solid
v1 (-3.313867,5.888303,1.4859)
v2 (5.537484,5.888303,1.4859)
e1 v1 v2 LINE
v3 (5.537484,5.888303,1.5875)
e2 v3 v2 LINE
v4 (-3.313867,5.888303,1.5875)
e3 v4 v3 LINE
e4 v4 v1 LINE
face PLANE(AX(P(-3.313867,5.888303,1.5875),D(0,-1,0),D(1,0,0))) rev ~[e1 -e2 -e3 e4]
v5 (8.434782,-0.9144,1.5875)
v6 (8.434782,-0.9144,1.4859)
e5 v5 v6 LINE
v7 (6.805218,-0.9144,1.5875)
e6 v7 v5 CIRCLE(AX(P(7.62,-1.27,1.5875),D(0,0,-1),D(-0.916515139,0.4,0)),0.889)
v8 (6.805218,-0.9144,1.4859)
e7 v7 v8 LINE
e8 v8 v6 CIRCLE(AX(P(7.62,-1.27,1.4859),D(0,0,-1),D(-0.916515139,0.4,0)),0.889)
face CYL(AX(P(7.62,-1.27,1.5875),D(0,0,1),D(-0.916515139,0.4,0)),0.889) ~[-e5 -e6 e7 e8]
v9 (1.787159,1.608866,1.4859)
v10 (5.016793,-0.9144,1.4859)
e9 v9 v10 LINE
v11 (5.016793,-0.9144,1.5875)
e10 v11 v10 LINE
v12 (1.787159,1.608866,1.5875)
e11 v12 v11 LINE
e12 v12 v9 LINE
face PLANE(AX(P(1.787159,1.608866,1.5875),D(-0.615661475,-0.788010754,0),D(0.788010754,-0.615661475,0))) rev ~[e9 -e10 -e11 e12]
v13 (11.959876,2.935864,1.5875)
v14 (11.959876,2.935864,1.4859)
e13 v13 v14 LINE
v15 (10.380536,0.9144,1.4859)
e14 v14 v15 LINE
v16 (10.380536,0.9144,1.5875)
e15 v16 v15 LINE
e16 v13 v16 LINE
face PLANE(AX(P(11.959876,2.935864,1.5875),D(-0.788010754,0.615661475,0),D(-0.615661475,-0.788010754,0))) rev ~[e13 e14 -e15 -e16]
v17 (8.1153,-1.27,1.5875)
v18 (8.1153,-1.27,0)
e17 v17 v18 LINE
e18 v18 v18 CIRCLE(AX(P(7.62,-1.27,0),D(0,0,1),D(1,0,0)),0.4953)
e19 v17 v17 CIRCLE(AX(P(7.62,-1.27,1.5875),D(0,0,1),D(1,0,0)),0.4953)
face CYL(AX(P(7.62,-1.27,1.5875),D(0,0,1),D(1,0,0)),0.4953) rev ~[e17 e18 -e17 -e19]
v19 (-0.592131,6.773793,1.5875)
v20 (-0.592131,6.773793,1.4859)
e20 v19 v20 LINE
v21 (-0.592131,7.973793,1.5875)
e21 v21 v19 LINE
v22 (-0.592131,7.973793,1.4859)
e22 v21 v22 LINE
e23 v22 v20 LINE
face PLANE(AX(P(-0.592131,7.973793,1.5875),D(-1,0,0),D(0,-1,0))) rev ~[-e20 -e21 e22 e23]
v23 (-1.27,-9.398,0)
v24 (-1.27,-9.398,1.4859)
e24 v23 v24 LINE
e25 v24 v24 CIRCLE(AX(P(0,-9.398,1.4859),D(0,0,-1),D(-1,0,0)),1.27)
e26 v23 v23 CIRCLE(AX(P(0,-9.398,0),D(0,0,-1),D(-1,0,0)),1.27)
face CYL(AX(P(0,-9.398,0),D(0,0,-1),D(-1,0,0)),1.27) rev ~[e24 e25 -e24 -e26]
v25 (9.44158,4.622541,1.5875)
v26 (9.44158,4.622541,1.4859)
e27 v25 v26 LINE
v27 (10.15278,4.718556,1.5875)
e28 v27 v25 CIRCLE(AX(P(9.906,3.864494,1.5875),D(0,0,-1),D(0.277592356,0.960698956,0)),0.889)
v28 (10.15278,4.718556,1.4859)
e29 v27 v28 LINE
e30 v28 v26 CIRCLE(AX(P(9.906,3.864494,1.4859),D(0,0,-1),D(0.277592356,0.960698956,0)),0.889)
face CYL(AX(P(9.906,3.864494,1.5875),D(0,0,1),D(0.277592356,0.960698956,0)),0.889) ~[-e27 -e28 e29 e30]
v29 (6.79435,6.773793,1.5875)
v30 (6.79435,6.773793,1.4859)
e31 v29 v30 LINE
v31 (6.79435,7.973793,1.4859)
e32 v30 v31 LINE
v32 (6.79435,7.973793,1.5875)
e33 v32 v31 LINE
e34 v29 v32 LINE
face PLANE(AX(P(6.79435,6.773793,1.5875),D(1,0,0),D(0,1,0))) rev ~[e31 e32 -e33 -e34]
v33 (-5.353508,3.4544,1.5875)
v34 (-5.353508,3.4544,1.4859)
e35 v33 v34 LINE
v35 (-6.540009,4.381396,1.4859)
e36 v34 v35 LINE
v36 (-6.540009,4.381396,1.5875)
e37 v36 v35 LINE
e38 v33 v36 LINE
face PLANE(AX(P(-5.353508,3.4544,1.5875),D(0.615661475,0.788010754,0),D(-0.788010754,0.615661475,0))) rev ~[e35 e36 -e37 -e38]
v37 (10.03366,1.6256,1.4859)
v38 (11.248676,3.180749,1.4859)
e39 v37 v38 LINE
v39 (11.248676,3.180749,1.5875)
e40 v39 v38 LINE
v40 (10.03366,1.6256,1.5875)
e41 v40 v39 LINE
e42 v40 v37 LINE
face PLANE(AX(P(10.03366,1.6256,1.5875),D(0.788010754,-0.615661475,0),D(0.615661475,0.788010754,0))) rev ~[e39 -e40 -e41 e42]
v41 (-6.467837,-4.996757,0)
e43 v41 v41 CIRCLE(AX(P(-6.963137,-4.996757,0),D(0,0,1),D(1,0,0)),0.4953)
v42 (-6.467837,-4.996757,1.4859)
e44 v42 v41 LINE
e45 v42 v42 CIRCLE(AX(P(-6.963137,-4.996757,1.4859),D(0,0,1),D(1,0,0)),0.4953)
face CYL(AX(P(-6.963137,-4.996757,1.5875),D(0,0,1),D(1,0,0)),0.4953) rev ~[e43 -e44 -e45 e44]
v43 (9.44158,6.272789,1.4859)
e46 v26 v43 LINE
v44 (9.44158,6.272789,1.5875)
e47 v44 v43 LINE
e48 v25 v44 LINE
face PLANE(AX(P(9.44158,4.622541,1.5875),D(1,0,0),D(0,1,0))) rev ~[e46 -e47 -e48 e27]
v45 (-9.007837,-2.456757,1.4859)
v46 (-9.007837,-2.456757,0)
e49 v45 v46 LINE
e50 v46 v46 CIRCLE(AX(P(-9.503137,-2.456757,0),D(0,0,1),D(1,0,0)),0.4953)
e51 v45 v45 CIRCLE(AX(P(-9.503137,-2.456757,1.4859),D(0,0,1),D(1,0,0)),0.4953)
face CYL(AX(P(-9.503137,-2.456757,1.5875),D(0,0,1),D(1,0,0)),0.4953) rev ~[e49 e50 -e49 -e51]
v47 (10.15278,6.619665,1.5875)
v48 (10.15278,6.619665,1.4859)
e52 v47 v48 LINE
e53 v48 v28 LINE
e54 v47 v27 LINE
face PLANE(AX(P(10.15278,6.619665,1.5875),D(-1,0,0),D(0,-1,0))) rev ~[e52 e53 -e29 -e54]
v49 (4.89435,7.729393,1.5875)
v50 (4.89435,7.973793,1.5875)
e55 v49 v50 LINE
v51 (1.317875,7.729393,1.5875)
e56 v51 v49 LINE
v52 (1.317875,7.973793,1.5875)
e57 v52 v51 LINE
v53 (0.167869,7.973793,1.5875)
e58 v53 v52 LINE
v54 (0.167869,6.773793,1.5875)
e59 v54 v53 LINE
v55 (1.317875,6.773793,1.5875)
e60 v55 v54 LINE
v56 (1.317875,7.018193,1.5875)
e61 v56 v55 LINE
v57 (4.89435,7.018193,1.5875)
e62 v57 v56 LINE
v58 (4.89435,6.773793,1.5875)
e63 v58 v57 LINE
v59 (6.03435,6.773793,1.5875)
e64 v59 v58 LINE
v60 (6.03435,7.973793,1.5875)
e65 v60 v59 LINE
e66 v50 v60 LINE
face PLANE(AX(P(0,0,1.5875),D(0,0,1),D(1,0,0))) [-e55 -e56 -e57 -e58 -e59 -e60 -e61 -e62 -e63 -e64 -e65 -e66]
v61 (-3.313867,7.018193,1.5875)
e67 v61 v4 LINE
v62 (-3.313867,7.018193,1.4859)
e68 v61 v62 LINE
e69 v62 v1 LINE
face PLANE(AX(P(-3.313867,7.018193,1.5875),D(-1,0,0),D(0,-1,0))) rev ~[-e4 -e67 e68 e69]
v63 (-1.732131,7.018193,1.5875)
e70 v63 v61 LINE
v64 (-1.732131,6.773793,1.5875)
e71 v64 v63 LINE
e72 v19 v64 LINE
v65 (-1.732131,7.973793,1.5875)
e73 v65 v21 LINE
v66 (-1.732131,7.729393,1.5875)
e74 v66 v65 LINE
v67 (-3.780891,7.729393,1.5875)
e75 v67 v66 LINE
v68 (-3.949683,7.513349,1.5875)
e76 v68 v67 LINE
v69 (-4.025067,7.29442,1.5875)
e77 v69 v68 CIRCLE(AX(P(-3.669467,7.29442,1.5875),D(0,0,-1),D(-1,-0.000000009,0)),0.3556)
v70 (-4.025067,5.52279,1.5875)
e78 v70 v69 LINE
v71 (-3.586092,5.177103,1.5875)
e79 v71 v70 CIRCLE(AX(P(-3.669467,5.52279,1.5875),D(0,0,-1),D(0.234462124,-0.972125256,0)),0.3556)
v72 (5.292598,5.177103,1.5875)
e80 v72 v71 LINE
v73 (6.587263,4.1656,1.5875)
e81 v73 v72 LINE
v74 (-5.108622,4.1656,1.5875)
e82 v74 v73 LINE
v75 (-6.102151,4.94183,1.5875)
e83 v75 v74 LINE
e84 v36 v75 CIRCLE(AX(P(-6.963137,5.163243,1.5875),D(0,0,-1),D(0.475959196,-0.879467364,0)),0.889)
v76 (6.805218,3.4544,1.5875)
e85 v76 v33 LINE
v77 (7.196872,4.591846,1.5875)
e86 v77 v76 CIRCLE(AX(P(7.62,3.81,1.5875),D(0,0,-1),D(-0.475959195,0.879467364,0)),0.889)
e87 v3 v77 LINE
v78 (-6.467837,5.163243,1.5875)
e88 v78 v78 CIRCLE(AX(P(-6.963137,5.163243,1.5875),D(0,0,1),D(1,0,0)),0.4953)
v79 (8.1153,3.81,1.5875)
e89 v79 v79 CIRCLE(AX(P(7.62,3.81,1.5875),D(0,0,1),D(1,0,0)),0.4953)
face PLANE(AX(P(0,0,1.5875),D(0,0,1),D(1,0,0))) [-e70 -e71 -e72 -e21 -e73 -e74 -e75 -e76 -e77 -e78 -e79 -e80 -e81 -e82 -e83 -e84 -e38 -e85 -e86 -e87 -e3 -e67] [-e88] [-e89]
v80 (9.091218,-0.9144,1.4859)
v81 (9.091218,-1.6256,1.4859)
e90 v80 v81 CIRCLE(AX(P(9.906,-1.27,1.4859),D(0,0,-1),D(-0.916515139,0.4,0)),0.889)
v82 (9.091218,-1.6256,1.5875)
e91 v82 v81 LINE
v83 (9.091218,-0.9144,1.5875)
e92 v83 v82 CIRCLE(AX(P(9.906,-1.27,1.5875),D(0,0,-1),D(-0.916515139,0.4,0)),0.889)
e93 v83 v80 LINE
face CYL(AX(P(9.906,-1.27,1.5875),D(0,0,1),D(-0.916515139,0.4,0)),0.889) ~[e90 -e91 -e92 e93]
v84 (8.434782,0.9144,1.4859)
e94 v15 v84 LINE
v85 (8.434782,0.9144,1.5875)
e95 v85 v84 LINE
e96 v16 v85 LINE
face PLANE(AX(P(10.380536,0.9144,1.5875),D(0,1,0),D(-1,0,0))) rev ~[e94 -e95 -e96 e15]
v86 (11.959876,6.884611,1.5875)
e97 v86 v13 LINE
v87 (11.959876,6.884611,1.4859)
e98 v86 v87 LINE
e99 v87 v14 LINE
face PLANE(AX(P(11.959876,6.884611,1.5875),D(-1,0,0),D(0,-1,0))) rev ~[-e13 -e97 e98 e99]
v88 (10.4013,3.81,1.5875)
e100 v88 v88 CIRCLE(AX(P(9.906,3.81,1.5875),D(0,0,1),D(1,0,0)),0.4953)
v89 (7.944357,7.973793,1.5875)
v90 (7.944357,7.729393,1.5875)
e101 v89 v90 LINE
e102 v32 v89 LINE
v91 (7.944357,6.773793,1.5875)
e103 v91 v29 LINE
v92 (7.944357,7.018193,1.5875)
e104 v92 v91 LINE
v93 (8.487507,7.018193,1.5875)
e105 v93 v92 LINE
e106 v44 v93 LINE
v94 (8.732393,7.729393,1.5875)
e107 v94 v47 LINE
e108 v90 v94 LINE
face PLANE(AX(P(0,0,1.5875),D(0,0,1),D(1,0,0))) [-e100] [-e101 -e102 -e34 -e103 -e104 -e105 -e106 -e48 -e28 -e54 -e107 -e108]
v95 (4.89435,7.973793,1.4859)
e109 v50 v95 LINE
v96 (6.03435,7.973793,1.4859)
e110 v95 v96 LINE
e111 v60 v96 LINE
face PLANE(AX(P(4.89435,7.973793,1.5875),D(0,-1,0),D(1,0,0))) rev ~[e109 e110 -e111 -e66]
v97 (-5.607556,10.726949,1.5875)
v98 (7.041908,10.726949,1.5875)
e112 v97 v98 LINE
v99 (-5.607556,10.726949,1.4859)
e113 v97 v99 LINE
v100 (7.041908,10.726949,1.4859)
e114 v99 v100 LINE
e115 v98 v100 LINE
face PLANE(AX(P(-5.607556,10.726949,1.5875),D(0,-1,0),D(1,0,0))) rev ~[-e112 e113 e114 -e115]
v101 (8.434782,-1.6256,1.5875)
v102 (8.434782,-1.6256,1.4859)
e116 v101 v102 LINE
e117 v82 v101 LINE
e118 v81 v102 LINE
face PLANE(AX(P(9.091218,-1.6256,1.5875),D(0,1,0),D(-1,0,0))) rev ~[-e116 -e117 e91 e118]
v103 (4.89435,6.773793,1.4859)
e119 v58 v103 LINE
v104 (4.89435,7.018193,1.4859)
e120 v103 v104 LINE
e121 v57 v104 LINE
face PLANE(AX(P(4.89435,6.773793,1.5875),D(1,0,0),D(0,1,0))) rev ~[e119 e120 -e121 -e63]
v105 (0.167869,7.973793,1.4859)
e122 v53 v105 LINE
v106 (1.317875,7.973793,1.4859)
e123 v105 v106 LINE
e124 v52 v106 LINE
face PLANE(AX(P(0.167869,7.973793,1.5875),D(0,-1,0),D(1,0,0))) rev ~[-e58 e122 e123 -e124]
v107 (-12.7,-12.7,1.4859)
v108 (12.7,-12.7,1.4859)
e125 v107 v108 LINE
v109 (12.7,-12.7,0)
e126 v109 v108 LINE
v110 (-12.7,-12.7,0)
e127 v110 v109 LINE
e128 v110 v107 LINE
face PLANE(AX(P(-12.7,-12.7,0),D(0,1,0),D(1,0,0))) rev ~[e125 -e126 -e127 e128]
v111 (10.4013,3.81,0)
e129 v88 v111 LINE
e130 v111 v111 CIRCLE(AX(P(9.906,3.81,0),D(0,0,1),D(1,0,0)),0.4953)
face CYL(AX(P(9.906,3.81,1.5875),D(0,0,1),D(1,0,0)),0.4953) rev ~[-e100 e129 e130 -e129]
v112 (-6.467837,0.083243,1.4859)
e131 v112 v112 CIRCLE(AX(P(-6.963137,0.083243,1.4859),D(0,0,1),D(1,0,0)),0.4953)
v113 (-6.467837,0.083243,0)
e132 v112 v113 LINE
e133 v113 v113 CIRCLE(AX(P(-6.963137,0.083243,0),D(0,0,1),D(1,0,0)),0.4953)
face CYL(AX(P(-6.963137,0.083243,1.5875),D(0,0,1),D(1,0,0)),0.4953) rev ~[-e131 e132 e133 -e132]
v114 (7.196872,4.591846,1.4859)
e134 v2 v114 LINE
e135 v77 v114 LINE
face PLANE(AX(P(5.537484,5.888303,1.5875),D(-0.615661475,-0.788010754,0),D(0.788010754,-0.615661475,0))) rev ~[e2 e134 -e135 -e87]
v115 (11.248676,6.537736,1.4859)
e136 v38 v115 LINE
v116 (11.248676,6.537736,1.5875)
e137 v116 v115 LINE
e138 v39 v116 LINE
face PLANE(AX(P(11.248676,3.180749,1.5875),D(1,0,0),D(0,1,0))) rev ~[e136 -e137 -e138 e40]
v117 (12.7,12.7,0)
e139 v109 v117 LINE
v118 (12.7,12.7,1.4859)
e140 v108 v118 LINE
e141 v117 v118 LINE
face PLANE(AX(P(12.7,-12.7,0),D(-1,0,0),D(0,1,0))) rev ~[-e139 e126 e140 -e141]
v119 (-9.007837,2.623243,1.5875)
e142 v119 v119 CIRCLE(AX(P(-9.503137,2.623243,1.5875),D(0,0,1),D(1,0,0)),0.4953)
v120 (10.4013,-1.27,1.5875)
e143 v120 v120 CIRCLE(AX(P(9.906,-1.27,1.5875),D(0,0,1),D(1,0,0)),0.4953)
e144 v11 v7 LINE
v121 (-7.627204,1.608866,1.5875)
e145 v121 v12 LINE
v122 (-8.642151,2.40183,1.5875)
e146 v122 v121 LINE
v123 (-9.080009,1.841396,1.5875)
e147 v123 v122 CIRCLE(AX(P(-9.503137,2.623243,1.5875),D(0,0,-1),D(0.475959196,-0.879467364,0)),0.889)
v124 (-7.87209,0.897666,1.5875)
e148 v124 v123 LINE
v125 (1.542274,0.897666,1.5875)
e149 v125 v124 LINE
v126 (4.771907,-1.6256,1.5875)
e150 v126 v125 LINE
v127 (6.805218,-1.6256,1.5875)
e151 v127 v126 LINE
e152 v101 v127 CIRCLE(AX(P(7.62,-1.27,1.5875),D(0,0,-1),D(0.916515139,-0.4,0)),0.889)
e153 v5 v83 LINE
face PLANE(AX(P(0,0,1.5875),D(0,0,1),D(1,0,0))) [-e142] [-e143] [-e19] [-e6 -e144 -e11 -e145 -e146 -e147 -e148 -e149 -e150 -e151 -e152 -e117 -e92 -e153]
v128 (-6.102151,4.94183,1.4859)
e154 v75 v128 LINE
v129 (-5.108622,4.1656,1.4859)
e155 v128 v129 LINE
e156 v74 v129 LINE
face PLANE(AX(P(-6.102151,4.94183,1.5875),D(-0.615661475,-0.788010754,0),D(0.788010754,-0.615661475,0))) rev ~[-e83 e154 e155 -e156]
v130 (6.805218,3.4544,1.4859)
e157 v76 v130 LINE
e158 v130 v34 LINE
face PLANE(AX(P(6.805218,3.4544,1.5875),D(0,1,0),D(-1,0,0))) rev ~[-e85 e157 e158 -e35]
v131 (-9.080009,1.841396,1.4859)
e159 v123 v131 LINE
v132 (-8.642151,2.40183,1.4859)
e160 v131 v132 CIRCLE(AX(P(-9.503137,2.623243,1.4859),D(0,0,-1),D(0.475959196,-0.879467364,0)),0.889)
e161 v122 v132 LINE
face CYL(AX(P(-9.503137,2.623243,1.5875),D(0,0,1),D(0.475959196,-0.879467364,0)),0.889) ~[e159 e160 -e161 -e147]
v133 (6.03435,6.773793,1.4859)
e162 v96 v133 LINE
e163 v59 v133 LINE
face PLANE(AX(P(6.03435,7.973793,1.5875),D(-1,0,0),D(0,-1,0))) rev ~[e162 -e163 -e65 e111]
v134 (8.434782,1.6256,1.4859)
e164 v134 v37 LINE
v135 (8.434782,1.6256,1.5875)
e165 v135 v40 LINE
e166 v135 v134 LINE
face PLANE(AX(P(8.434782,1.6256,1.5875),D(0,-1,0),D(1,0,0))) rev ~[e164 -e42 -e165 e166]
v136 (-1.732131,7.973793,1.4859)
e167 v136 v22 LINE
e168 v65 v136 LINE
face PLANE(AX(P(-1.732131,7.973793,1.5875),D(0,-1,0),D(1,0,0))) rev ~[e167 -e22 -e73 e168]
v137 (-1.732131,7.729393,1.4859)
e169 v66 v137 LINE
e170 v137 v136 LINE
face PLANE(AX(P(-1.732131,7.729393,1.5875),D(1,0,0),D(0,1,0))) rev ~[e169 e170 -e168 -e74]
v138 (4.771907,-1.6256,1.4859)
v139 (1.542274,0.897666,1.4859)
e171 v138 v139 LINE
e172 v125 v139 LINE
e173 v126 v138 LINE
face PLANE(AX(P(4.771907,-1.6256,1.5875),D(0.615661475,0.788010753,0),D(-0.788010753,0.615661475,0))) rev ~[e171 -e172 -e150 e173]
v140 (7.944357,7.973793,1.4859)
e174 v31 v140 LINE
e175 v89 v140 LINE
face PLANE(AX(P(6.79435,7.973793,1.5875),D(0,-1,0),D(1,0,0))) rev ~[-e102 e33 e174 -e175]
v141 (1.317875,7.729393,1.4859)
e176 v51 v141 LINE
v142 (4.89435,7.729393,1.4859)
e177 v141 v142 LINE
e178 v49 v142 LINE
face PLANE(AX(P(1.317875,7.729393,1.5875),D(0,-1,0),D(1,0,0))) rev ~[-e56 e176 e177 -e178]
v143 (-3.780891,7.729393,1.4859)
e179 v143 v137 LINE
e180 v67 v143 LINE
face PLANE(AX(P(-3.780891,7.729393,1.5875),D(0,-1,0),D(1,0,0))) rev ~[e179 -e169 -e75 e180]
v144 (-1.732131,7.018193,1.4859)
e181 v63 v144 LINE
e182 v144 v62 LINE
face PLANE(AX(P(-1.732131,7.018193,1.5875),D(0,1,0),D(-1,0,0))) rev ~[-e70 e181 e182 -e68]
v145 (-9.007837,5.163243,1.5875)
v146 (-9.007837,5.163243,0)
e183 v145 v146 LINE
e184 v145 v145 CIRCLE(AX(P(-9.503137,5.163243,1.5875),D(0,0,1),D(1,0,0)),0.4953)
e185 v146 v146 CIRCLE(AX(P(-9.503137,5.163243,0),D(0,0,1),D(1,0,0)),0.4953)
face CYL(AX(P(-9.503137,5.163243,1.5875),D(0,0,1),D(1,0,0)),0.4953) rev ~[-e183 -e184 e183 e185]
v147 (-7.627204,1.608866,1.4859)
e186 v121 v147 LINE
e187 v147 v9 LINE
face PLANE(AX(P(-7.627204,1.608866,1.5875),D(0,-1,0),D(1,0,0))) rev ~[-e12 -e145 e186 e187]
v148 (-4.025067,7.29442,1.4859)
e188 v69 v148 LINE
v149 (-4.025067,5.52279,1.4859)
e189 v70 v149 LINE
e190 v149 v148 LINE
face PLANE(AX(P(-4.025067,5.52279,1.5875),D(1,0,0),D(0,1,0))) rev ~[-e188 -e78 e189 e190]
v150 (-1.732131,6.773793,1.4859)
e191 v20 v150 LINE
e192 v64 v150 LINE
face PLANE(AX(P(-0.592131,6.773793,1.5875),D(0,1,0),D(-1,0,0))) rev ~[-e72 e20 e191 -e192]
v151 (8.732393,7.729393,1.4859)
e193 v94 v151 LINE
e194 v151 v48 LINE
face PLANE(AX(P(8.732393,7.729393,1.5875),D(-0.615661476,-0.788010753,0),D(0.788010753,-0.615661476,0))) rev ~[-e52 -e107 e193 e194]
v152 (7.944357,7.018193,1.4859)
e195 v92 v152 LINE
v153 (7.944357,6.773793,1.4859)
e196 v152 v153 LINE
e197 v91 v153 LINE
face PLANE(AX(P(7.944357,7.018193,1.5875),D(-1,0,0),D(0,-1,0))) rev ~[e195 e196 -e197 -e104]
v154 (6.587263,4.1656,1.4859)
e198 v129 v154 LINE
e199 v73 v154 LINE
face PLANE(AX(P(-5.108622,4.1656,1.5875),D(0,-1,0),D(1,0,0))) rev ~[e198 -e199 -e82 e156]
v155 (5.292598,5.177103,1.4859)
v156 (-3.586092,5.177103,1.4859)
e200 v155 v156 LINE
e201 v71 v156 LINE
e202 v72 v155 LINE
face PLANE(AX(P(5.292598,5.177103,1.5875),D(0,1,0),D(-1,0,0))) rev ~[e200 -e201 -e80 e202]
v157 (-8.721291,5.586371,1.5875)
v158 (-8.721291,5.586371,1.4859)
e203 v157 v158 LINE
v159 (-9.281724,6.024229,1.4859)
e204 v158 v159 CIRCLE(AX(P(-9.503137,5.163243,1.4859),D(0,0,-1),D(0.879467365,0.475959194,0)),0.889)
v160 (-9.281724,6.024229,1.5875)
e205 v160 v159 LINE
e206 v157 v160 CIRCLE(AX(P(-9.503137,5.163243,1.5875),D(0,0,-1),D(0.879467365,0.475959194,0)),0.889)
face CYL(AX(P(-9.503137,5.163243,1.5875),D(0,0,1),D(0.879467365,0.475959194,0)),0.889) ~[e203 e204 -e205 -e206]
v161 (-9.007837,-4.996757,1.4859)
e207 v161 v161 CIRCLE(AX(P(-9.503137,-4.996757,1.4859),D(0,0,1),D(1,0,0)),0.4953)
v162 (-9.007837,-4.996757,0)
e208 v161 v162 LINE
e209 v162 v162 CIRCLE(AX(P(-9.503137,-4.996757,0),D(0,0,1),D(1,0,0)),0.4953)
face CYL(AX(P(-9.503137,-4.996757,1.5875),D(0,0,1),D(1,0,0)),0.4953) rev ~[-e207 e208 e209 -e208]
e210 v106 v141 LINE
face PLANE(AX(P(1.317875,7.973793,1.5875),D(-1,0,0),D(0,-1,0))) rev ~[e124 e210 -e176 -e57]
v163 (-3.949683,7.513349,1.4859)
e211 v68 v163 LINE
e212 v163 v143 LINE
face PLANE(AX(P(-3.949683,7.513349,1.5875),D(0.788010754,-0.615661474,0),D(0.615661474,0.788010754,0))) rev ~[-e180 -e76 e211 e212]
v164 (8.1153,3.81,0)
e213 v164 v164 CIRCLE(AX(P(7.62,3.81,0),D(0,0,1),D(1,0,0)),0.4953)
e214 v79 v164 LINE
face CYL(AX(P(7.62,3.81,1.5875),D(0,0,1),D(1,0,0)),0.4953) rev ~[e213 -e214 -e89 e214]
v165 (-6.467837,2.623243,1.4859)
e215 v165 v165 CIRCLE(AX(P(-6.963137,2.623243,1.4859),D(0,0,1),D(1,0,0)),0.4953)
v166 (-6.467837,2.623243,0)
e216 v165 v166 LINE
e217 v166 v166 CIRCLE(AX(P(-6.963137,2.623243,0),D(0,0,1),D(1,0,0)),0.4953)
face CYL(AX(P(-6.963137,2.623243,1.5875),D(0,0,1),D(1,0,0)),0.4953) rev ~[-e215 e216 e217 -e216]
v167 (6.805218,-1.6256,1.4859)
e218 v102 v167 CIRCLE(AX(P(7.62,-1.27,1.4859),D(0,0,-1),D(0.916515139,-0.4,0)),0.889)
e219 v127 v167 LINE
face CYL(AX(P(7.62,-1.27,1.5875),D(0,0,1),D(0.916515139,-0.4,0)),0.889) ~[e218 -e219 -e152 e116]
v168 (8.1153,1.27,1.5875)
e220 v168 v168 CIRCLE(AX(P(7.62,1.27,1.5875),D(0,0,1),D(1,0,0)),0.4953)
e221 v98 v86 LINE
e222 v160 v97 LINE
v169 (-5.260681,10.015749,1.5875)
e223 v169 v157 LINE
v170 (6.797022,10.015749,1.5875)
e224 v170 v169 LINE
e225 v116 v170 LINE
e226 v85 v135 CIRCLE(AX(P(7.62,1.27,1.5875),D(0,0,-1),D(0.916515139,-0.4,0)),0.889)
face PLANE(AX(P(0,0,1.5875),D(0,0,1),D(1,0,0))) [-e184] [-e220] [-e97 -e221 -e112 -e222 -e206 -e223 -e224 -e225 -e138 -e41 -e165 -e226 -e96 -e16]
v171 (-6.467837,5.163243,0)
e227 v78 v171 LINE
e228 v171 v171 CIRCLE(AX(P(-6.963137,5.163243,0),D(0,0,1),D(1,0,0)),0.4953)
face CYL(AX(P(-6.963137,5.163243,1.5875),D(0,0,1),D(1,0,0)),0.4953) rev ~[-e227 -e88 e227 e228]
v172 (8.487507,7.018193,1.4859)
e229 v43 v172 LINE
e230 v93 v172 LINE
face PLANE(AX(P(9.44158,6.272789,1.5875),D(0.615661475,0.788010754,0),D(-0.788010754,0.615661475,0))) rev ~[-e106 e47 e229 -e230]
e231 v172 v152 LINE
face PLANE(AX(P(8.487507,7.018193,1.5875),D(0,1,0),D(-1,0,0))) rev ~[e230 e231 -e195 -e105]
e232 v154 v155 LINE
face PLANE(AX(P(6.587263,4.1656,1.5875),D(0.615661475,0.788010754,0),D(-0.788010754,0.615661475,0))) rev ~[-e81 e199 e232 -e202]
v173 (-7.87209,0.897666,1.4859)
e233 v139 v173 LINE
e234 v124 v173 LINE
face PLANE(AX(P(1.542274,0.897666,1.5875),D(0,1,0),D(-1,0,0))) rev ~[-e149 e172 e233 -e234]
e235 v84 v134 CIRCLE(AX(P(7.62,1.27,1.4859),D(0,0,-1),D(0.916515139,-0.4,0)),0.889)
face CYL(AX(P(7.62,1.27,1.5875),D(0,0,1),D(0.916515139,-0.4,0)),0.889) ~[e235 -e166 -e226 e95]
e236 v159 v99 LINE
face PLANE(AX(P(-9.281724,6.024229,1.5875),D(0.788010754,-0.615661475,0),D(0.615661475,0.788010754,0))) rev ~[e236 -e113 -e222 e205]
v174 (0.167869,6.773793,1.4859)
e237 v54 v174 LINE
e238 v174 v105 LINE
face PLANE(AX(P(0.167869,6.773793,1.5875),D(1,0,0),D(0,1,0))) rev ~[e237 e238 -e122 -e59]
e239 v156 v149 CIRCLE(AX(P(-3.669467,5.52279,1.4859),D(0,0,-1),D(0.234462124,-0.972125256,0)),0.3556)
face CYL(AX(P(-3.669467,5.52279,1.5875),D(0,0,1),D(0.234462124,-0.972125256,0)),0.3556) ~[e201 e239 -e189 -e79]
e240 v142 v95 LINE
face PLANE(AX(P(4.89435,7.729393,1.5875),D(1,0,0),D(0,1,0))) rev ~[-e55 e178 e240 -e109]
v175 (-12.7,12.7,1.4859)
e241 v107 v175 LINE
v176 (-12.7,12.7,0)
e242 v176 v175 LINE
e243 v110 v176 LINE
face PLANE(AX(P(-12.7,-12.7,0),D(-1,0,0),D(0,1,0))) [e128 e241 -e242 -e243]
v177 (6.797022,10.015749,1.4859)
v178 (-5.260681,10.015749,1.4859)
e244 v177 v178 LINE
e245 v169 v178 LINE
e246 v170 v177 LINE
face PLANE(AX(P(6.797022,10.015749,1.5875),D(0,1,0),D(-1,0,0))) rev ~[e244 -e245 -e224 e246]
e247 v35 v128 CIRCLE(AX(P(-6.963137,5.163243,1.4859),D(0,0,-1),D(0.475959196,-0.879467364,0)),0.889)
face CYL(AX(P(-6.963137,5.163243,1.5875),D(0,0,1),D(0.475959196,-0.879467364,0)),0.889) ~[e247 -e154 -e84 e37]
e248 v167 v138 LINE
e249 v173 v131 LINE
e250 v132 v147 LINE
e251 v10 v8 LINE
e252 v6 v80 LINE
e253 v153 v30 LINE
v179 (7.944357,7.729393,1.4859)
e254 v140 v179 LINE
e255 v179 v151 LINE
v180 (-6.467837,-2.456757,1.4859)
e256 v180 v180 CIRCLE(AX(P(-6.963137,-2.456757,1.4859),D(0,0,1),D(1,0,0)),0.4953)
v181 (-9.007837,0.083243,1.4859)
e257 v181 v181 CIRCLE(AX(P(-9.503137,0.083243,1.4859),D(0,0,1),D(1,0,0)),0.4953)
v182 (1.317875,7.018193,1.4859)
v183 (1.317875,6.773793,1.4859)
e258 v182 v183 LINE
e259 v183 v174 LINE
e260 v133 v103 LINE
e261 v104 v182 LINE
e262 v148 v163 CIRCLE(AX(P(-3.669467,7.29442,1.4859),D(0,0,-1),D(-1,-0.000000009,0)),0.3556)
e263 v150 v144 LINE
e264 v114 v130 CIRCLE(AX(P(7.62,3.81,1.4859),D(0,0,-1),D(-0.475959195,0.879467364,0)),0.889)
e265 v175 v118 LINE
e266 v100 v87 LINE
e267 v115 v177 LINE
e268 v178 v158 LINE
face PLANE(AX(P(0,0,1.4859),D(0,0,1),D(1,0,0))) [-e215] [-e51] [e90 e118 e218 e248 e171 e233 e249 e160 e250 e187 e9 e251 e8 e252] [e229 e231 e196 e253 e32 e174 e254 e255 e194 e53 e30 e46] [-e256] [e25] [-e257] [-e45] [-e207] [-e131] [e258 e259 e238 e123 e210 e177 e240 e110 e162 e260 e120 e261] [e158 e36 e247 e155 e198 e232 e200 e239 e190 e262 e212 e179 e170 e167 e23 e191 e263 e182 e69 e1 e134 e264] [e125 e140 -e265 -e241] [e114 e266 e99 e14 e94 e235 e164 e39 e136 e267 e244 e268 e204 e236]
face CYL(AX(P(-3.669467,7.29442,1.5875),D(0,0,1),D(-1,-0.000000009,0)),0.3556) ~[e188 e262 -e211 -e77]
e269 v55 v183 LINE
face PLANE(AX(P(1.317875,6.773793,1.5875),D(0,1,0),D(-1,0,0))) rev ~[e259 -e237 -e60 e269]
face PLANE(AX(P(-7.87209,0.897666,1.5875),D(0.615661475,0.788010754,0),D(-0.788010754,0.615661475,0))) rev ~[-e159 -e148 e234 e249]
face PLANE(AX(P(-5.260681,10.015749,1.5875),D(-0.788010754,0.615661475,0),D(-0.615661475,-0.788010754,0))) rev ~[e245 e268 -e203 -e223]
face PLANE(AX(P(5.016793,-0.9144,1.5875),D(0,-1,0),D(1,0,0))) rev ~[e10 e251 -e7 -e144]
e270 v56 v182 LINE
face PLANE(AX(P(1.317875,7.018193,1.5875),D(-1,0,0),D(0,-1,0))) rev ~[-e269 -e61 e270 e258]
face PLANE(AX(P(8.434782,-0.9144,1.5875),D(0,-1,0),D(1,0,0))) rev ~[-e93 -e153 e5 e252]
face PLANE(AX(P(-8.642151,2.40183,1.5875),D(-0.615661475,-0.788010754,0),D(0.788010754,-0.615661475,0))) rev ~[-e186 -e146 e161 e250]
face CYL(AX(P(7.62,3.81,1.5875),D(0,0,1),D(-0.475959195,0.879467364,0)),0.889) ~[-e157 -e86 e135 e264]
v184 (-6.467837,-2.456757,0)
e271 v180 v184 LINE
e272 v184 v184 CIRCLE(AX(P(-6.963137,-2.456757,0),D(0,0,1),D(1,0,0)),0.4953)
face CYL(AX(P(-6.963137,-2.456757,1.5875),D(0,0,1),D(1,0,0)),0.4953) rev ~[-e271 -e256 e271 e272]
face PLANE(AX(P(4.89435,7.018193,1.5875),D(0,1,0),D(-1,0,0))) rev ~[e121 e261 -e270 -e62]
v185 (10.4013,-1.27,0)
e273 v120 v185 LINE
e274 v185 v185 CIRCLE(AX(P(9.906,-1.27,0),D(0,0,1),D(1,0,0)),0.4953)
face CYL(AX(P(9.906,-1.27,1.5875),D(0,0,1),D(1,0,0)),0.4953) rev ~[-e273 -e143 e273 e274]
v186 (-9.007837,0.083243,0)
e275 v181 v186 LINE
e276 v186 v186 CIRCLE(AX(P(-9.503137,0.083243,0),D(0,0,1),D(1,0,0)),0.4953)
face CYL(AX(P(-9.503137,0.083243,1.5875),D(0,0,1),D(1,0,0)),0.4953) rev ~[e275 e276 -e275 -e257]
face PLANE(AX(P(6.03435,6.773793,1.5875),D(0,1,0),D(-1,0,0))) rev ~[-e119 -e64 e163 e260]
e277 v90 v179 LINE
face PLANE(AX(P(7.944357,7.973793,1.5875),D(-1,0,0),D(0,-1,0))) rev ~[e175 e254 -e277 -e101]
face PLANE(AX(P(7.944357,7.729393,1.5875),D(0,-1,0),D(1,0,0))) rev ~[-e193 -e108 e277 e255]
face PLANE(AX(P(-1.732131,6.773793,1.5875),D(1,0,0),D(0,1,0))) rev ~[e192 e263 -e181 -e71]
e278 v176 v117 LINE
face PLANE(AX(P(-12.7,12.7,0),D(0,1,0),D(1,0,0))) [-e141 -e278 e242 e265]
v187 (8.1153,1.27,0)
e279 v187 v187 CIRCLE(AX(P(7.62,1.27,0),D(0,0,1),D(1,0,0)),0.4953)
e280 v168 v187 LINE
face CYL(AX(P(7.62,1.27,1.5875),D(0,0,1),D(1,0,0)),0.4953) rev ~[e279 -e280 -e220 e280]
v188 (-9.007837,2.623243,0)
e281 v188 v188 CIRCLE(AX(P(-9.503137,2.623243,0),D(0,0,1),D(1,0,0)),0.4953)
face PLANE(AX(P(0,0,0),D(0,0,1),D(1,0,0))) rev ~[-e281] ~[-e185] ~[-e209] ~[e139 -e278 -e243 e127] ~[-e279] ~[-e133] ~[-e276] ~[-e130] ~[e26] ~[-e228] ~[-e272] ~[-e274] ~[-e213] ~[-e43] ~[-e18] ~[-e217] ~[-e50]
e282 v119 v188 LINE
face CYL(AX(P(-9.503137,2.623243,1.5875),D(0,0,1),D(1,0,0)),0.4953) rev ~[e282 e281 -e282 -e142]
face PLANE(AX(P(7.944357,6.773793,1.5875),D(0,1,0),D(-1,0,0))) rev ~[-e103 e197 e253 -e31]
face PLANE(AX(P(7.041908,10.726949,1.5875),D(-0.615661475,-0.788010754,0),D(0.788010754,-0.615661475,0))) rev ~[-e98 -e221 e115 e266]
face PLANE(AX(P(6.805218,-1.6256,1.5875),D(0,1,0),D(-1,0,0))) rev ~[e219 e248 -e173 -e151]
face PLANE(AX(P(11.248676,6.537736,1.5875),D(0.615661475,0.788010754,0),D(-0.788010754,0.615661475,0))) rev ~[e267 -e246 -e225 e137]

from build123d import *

# Parameters (mm, degrees)
SKETCH1_W           = 25.4
SKETCH1_H           = 25.4
BOSS_EXTRUDE1_DEPTH = 1.5875
SKETCH2_R           = 0.4953
CUT_EXTRUDE1_DEPTH  = 2.54
SKETCH4_R           = 0.4953
CUT_EXTRUDE2_DEPTH  = 2.54
SKETCH5_W           = 25.4
SKETCH5_H           = 25.4
SKETCH5_R           = 0.4953
CUT_EXTRUDE4_DEPTH  = 0.1016
SKETCH6_R           = 1.27
CUT_EXTRUDE5_DEPTH  = 2.54


with BuildPart() as part:
    # Sketch1 → Boss-Extrude1 (new body)
    with BuildSketch(Plane.XY):
        Rectangle(SKETCH1_W, SKETCH1_H)
    extrude(amount=BOSS_EXTRUDE1_DEPTH)

    # Sketch2 → Cut-Extrude1 (cut)
    with BuildSketch(Plane.XY.offset(1.5875)):
        with Locations((-9.503137046, 5.16324298)):
            Circle(SKETCH2_R)
        with Locations((-6.963137046, 5.16324298)):
            Circle(SKETCH2_R)
        with Locations((-9.503137046, 2.62324298)):
            Circle(SKETCH2_R)
        with Locations((-6.963137046, 2.62324298)):
            Circle(SKETCH2_R)
        with Locations((-9.503137046, 0.08324298)):
            Circle(SKETCH2_R)
        with Locations((-6.963137046, 0.08324298)):
            Circle(SKETCH2_R)
        with Locations((-9.503137046, -2.45675702)):
            Circle(SKETCH2_R)
        with Locations((-6.963137046, -2.45675702)):
            Circle(SKETCH2_R)
        with Locations((-9.503137046, -4.99675702)):
            Circle(SKETCH2_R)
        with Locations((-6.963137046, -4.99675702)):
            Circle(SKETCH2_R)
    extrude(amount=-CUT_EXTRUDE1_DEPTH, mode=Mode.SUBTRACT)

    # Sketch4 → Cut-Extrude2 (cut)
    with BuildSketch(Plane.XY.offset(1.5875)):
        with Locations((7.62, 3.81)):
            Circle(SKETCH4_R)
        with Locations((7.62, 1.27)):
            Circle(SKETCH4_R)
        with Locations((7.62, -1.27)):
            Circle(SKETCH4_R)
        with Locations((9.906, -1.27)):
            Circle(SKETCH4_R)
        with Locations((9.906, 3.81)):
            Circle(SKETCH4_R)
    extrude(amount=-CUT_EXTRUDE2_DEPTH, mode=Mode.SUBTRACT)

    # Sketch5 → Cut-Extrude4 (cut)
    with BuildSketch(Plane.XY.offset(1.5875)):
        Rectangle(SKETCH5_W, SKETCH5_H)
        with BuildLine():
            Line((-5.260680936, 10.015749034), (-8.721290559, 5.586370704))
            ThreePointArc((-8.721290559, 5.586370704), (-10.050460097, 4.46270142), (-9.281723807, 6.024229146))
            Line((-9.281723807, 6.024229146), (-5.607556352, 10.726949034))
            Line((-5.607556352, 10.726949034), (7.041908164, 10.726949034))
            Line((7.041908164, 10.726949034), (11.959875981, 6.884611467))
            Line((11.959875981, 6.884611467), (11.959875981, 2.935863527))
            Line((11.959875981, 2.935863527), (10.380535583, 0.9144))
            Line((10.380535583, 0.9144), (8.434781959, 0.9144))
            ThreePointArc((8.434781959, 0.9144), (6.731, 1.27), (8.434781959, 1.6256))
            Line((8.434781959, 1.6256), (10.033660166, 1.6256))
            Line((10.033660166, 1.6256), (11.248675981, 3.180749326))
            Line((11.248675981, 3.180749326), (11.248675981, 6.53773605))
            Line((11.248675981, 6.53773605), (6.797022365, 10.015749034))
            Line((6.797022365, 10.015749034), (-5.260680936, 10.015749034))
        make_face(mode=Mode.SUBTRACT)
        with BuildLine():
            Line((-8.64215088, 2.401829741), (-7.627203971, 1.60886631))
            Line((-7.627203971, 1.60886631), (1.787159337, 1.60886631))
            Line((1.787159337, 1.60886631), (5.016792936, -0.9144))
            Line((5.016792936, -0.9144), (6.805218041, -0.9144))
            ThreePointArc((6.805218041, -0.9144), (7.62, -0.381), (8.434781959, -0.9144))
            Line((8.434781959, -0.9144), (9.091218041, -0.9144))
            ThreePointArc((9.091218041, -0.9144), (10.795, -1.27), (9.091218041, -1.6256))
            Line((9.091218041, -1.6256), (8.434781959, -1.6256))
            ThreePointArc((8.434781959, -1.6256), (7.62, -2.159), (6.805218041, -1.6256))
            Line((6.805218041, -1.6256), (4.771907137, -1.6256))
            Line((4.771907137, -1.6256), (1.542273539, 0.89766631))
            Line((1.542273539, 0.89766631), (-7.87208977, 0.89766631))
            Line((-7.87208977, 0.89766631), (-9.080009321, 1.841396493))
            ThreePointArc((-9.080009321, 1.841396493), (-10.203678606, 3.170566031), (-8.64215088, 2.401829741))
        make_face(mode=Mode.SUBTRACT)
        with BuildLine():
            Line((9.441579604, 4.622540959), (9.441579604, 6.272789394))
            Line((9.441579604, 6.272789394), (8.487506715, 7.018192829))
            Line((8.487506715, 7.018192829), (7.944356637, 7.018192829))
            Line((7.944356637, 7.018192829), (7.944356637, 6.773792829))
            Line((7.944356637, 6.773792829), (6.794350037, 6.773792829))
            Line((6.794350037, 6.773792829), (6.794350037, 7.973792829))
            Line((6.794350037, 7.973792829), (7.944356637, 7.973792829))
            Line((7.944356637, 7.973792829), (7.944356637, 7.729392829))
            Line((7.944356637, 7.729392829), (8.732392514, 7.729392829))
            Line((8.732392514, 7.729392829), (10.152779604, 6.619664811))
            Line((10.152779604, 6.619664811), (10.152779604, 4.718555699))
            ThreePointArc((10.152779604, 4.718555699), (10.024939422, 2.983486714), (9.441579604, 4.622540959))
        make_face(mode=Mode.SUBTRACT)
        with Locations((-6.963137046, 2.62324298)):
            Circle(SKETCH5_R, mode=Mode.SUBTRACT)
        with BuildLine():
            ThreePointArc((7.196872275, 4.591846487), (8.460566014, 3.520569911), (6.805218041, 3.4544))
            Line((6.805218041, 3.4544), (-5.353507917, 3.4544))
            Line((-5.353507917, 3.4544), (-6.540009321, 4.381396493))
            ThreePointArc((-6.540009321, 4.381396493), (-7.663678606, 5.710566031), (-6.10215088, 4.941829741))
            Line((-6.10215088, 4.941829741), (-5.108622118, 4.1656))
            Line((-5.108622118, 4.1656), (6.587262612, 4.1656))
            Line((6.587262612, 4.1656), (5.292598329, 5.177102595))
            Line((5.292598329, 5.177102595), (-3.586091983, 5.177102595))
            ThreePointArc((-3.586091983, 5.177102595), (-3.889470471, 5.243416559), (-4.025066715, 5.522790336))
            Line((-4.025066715, 5.522790336), (-4.025066715, 7.294419839))
            ThreePointArc((-4.025066715, 7.294419839), (-4.005693121, 7.410191875), (-3.949683339, 7.51334906))
            Line((-3.949683339, 7.51334906), (-3.780891448, 7.729392829))
            Line((-3.780891448, 7.729392829), (-1.732131499, 7.729392829))
            Line((-1.732131499, 7.729392829), (-1.732131499, 7.973792829))
            Line((-1.732131499, 7.973792829), (-0.592131499, 7.973792829))
            Line((-0.592131499, 7.973792829), (-0.592131499, 6.773792829))
            Line((-0.592131499, 6.773792829), (-1.732131499, 6.773792829))
            Line((-1.732131499, 6.773792829), (-1.732131499, 7.018192829))
            Line((-1.732131499, 7.018192829), (-3.313866715, 7.018192829))
            Line((-3.313866715, 7.018192829), (-3.313866715, 5.888302595))
            Line((-3.313866715, 5.888302595), (5.537484128, 5.888302595))
            Line((5.537484128, 5.888302595), (7.196872275, 4.591846487))
        make_face(mode=Mode.SUBTRACT)
        Polygon((4.894350037, 7.729392829), (4.894350037, 7.973792829), (6.034350037, 7.973792829), (6.034350037, 6.773792829), (4.894350037, 6.773792829), (4.894350037, 7.018192829), (1.317875101, 7.018192829), (1.317875101, 6.773792829), (0.167868501, 6.773792829), (0.167868501, 7.973792829), (1.317875101, 7.973792829), (1.317875101, 7.729392829), align=None, mode=Mode.SUBTRACT)
        with Locations((-6.963137046, -2.45675702)):
            Circle(SKETCH5_R, mode=Mode.SUBTRACT)
        with Locations((-9.503137046, 0.08324298)):
            Circle(SKETCH5_R, mode=Mode.SUBTRACT)
        with Locations((-6.963137046, 0.08324298)):
            Circle(SKETCH5_R, mode=Mode.SUBTRACT)
        with Locations((-9.503137046, -4.99675702)):
            Circle(SKETCH5_R, mode=Mode.SUBTRACT)
        with Locations((-6.963137046, -4.99675702)):
            Circle(SKETCH5_R, mode=Mode.SUBTRACT)
        with Locations((-9.503137046, -2.45675702)):
            Circle(SKETCH5_R, mode=Mode.SUBTRACT)
    extrude(amount=-CUT_EXTRUDE4_DEPTH, mode=Mode.SUBTRACT)

    # Sketch6 → Cut-Extrude5 (cut)
    with BuildSketch(Plane(origin=(0, 0, 0), x_dir=(-1, 0, 0), z_dir=(0, 0, -1))):
        with Locations((0, -9.398)):
            Circle(SKETCH6_R)
    extrude(amount=-CUT_EXTRUDE5_DEPTH, mode=Mode.SUBTRACT)


solid = part.part
